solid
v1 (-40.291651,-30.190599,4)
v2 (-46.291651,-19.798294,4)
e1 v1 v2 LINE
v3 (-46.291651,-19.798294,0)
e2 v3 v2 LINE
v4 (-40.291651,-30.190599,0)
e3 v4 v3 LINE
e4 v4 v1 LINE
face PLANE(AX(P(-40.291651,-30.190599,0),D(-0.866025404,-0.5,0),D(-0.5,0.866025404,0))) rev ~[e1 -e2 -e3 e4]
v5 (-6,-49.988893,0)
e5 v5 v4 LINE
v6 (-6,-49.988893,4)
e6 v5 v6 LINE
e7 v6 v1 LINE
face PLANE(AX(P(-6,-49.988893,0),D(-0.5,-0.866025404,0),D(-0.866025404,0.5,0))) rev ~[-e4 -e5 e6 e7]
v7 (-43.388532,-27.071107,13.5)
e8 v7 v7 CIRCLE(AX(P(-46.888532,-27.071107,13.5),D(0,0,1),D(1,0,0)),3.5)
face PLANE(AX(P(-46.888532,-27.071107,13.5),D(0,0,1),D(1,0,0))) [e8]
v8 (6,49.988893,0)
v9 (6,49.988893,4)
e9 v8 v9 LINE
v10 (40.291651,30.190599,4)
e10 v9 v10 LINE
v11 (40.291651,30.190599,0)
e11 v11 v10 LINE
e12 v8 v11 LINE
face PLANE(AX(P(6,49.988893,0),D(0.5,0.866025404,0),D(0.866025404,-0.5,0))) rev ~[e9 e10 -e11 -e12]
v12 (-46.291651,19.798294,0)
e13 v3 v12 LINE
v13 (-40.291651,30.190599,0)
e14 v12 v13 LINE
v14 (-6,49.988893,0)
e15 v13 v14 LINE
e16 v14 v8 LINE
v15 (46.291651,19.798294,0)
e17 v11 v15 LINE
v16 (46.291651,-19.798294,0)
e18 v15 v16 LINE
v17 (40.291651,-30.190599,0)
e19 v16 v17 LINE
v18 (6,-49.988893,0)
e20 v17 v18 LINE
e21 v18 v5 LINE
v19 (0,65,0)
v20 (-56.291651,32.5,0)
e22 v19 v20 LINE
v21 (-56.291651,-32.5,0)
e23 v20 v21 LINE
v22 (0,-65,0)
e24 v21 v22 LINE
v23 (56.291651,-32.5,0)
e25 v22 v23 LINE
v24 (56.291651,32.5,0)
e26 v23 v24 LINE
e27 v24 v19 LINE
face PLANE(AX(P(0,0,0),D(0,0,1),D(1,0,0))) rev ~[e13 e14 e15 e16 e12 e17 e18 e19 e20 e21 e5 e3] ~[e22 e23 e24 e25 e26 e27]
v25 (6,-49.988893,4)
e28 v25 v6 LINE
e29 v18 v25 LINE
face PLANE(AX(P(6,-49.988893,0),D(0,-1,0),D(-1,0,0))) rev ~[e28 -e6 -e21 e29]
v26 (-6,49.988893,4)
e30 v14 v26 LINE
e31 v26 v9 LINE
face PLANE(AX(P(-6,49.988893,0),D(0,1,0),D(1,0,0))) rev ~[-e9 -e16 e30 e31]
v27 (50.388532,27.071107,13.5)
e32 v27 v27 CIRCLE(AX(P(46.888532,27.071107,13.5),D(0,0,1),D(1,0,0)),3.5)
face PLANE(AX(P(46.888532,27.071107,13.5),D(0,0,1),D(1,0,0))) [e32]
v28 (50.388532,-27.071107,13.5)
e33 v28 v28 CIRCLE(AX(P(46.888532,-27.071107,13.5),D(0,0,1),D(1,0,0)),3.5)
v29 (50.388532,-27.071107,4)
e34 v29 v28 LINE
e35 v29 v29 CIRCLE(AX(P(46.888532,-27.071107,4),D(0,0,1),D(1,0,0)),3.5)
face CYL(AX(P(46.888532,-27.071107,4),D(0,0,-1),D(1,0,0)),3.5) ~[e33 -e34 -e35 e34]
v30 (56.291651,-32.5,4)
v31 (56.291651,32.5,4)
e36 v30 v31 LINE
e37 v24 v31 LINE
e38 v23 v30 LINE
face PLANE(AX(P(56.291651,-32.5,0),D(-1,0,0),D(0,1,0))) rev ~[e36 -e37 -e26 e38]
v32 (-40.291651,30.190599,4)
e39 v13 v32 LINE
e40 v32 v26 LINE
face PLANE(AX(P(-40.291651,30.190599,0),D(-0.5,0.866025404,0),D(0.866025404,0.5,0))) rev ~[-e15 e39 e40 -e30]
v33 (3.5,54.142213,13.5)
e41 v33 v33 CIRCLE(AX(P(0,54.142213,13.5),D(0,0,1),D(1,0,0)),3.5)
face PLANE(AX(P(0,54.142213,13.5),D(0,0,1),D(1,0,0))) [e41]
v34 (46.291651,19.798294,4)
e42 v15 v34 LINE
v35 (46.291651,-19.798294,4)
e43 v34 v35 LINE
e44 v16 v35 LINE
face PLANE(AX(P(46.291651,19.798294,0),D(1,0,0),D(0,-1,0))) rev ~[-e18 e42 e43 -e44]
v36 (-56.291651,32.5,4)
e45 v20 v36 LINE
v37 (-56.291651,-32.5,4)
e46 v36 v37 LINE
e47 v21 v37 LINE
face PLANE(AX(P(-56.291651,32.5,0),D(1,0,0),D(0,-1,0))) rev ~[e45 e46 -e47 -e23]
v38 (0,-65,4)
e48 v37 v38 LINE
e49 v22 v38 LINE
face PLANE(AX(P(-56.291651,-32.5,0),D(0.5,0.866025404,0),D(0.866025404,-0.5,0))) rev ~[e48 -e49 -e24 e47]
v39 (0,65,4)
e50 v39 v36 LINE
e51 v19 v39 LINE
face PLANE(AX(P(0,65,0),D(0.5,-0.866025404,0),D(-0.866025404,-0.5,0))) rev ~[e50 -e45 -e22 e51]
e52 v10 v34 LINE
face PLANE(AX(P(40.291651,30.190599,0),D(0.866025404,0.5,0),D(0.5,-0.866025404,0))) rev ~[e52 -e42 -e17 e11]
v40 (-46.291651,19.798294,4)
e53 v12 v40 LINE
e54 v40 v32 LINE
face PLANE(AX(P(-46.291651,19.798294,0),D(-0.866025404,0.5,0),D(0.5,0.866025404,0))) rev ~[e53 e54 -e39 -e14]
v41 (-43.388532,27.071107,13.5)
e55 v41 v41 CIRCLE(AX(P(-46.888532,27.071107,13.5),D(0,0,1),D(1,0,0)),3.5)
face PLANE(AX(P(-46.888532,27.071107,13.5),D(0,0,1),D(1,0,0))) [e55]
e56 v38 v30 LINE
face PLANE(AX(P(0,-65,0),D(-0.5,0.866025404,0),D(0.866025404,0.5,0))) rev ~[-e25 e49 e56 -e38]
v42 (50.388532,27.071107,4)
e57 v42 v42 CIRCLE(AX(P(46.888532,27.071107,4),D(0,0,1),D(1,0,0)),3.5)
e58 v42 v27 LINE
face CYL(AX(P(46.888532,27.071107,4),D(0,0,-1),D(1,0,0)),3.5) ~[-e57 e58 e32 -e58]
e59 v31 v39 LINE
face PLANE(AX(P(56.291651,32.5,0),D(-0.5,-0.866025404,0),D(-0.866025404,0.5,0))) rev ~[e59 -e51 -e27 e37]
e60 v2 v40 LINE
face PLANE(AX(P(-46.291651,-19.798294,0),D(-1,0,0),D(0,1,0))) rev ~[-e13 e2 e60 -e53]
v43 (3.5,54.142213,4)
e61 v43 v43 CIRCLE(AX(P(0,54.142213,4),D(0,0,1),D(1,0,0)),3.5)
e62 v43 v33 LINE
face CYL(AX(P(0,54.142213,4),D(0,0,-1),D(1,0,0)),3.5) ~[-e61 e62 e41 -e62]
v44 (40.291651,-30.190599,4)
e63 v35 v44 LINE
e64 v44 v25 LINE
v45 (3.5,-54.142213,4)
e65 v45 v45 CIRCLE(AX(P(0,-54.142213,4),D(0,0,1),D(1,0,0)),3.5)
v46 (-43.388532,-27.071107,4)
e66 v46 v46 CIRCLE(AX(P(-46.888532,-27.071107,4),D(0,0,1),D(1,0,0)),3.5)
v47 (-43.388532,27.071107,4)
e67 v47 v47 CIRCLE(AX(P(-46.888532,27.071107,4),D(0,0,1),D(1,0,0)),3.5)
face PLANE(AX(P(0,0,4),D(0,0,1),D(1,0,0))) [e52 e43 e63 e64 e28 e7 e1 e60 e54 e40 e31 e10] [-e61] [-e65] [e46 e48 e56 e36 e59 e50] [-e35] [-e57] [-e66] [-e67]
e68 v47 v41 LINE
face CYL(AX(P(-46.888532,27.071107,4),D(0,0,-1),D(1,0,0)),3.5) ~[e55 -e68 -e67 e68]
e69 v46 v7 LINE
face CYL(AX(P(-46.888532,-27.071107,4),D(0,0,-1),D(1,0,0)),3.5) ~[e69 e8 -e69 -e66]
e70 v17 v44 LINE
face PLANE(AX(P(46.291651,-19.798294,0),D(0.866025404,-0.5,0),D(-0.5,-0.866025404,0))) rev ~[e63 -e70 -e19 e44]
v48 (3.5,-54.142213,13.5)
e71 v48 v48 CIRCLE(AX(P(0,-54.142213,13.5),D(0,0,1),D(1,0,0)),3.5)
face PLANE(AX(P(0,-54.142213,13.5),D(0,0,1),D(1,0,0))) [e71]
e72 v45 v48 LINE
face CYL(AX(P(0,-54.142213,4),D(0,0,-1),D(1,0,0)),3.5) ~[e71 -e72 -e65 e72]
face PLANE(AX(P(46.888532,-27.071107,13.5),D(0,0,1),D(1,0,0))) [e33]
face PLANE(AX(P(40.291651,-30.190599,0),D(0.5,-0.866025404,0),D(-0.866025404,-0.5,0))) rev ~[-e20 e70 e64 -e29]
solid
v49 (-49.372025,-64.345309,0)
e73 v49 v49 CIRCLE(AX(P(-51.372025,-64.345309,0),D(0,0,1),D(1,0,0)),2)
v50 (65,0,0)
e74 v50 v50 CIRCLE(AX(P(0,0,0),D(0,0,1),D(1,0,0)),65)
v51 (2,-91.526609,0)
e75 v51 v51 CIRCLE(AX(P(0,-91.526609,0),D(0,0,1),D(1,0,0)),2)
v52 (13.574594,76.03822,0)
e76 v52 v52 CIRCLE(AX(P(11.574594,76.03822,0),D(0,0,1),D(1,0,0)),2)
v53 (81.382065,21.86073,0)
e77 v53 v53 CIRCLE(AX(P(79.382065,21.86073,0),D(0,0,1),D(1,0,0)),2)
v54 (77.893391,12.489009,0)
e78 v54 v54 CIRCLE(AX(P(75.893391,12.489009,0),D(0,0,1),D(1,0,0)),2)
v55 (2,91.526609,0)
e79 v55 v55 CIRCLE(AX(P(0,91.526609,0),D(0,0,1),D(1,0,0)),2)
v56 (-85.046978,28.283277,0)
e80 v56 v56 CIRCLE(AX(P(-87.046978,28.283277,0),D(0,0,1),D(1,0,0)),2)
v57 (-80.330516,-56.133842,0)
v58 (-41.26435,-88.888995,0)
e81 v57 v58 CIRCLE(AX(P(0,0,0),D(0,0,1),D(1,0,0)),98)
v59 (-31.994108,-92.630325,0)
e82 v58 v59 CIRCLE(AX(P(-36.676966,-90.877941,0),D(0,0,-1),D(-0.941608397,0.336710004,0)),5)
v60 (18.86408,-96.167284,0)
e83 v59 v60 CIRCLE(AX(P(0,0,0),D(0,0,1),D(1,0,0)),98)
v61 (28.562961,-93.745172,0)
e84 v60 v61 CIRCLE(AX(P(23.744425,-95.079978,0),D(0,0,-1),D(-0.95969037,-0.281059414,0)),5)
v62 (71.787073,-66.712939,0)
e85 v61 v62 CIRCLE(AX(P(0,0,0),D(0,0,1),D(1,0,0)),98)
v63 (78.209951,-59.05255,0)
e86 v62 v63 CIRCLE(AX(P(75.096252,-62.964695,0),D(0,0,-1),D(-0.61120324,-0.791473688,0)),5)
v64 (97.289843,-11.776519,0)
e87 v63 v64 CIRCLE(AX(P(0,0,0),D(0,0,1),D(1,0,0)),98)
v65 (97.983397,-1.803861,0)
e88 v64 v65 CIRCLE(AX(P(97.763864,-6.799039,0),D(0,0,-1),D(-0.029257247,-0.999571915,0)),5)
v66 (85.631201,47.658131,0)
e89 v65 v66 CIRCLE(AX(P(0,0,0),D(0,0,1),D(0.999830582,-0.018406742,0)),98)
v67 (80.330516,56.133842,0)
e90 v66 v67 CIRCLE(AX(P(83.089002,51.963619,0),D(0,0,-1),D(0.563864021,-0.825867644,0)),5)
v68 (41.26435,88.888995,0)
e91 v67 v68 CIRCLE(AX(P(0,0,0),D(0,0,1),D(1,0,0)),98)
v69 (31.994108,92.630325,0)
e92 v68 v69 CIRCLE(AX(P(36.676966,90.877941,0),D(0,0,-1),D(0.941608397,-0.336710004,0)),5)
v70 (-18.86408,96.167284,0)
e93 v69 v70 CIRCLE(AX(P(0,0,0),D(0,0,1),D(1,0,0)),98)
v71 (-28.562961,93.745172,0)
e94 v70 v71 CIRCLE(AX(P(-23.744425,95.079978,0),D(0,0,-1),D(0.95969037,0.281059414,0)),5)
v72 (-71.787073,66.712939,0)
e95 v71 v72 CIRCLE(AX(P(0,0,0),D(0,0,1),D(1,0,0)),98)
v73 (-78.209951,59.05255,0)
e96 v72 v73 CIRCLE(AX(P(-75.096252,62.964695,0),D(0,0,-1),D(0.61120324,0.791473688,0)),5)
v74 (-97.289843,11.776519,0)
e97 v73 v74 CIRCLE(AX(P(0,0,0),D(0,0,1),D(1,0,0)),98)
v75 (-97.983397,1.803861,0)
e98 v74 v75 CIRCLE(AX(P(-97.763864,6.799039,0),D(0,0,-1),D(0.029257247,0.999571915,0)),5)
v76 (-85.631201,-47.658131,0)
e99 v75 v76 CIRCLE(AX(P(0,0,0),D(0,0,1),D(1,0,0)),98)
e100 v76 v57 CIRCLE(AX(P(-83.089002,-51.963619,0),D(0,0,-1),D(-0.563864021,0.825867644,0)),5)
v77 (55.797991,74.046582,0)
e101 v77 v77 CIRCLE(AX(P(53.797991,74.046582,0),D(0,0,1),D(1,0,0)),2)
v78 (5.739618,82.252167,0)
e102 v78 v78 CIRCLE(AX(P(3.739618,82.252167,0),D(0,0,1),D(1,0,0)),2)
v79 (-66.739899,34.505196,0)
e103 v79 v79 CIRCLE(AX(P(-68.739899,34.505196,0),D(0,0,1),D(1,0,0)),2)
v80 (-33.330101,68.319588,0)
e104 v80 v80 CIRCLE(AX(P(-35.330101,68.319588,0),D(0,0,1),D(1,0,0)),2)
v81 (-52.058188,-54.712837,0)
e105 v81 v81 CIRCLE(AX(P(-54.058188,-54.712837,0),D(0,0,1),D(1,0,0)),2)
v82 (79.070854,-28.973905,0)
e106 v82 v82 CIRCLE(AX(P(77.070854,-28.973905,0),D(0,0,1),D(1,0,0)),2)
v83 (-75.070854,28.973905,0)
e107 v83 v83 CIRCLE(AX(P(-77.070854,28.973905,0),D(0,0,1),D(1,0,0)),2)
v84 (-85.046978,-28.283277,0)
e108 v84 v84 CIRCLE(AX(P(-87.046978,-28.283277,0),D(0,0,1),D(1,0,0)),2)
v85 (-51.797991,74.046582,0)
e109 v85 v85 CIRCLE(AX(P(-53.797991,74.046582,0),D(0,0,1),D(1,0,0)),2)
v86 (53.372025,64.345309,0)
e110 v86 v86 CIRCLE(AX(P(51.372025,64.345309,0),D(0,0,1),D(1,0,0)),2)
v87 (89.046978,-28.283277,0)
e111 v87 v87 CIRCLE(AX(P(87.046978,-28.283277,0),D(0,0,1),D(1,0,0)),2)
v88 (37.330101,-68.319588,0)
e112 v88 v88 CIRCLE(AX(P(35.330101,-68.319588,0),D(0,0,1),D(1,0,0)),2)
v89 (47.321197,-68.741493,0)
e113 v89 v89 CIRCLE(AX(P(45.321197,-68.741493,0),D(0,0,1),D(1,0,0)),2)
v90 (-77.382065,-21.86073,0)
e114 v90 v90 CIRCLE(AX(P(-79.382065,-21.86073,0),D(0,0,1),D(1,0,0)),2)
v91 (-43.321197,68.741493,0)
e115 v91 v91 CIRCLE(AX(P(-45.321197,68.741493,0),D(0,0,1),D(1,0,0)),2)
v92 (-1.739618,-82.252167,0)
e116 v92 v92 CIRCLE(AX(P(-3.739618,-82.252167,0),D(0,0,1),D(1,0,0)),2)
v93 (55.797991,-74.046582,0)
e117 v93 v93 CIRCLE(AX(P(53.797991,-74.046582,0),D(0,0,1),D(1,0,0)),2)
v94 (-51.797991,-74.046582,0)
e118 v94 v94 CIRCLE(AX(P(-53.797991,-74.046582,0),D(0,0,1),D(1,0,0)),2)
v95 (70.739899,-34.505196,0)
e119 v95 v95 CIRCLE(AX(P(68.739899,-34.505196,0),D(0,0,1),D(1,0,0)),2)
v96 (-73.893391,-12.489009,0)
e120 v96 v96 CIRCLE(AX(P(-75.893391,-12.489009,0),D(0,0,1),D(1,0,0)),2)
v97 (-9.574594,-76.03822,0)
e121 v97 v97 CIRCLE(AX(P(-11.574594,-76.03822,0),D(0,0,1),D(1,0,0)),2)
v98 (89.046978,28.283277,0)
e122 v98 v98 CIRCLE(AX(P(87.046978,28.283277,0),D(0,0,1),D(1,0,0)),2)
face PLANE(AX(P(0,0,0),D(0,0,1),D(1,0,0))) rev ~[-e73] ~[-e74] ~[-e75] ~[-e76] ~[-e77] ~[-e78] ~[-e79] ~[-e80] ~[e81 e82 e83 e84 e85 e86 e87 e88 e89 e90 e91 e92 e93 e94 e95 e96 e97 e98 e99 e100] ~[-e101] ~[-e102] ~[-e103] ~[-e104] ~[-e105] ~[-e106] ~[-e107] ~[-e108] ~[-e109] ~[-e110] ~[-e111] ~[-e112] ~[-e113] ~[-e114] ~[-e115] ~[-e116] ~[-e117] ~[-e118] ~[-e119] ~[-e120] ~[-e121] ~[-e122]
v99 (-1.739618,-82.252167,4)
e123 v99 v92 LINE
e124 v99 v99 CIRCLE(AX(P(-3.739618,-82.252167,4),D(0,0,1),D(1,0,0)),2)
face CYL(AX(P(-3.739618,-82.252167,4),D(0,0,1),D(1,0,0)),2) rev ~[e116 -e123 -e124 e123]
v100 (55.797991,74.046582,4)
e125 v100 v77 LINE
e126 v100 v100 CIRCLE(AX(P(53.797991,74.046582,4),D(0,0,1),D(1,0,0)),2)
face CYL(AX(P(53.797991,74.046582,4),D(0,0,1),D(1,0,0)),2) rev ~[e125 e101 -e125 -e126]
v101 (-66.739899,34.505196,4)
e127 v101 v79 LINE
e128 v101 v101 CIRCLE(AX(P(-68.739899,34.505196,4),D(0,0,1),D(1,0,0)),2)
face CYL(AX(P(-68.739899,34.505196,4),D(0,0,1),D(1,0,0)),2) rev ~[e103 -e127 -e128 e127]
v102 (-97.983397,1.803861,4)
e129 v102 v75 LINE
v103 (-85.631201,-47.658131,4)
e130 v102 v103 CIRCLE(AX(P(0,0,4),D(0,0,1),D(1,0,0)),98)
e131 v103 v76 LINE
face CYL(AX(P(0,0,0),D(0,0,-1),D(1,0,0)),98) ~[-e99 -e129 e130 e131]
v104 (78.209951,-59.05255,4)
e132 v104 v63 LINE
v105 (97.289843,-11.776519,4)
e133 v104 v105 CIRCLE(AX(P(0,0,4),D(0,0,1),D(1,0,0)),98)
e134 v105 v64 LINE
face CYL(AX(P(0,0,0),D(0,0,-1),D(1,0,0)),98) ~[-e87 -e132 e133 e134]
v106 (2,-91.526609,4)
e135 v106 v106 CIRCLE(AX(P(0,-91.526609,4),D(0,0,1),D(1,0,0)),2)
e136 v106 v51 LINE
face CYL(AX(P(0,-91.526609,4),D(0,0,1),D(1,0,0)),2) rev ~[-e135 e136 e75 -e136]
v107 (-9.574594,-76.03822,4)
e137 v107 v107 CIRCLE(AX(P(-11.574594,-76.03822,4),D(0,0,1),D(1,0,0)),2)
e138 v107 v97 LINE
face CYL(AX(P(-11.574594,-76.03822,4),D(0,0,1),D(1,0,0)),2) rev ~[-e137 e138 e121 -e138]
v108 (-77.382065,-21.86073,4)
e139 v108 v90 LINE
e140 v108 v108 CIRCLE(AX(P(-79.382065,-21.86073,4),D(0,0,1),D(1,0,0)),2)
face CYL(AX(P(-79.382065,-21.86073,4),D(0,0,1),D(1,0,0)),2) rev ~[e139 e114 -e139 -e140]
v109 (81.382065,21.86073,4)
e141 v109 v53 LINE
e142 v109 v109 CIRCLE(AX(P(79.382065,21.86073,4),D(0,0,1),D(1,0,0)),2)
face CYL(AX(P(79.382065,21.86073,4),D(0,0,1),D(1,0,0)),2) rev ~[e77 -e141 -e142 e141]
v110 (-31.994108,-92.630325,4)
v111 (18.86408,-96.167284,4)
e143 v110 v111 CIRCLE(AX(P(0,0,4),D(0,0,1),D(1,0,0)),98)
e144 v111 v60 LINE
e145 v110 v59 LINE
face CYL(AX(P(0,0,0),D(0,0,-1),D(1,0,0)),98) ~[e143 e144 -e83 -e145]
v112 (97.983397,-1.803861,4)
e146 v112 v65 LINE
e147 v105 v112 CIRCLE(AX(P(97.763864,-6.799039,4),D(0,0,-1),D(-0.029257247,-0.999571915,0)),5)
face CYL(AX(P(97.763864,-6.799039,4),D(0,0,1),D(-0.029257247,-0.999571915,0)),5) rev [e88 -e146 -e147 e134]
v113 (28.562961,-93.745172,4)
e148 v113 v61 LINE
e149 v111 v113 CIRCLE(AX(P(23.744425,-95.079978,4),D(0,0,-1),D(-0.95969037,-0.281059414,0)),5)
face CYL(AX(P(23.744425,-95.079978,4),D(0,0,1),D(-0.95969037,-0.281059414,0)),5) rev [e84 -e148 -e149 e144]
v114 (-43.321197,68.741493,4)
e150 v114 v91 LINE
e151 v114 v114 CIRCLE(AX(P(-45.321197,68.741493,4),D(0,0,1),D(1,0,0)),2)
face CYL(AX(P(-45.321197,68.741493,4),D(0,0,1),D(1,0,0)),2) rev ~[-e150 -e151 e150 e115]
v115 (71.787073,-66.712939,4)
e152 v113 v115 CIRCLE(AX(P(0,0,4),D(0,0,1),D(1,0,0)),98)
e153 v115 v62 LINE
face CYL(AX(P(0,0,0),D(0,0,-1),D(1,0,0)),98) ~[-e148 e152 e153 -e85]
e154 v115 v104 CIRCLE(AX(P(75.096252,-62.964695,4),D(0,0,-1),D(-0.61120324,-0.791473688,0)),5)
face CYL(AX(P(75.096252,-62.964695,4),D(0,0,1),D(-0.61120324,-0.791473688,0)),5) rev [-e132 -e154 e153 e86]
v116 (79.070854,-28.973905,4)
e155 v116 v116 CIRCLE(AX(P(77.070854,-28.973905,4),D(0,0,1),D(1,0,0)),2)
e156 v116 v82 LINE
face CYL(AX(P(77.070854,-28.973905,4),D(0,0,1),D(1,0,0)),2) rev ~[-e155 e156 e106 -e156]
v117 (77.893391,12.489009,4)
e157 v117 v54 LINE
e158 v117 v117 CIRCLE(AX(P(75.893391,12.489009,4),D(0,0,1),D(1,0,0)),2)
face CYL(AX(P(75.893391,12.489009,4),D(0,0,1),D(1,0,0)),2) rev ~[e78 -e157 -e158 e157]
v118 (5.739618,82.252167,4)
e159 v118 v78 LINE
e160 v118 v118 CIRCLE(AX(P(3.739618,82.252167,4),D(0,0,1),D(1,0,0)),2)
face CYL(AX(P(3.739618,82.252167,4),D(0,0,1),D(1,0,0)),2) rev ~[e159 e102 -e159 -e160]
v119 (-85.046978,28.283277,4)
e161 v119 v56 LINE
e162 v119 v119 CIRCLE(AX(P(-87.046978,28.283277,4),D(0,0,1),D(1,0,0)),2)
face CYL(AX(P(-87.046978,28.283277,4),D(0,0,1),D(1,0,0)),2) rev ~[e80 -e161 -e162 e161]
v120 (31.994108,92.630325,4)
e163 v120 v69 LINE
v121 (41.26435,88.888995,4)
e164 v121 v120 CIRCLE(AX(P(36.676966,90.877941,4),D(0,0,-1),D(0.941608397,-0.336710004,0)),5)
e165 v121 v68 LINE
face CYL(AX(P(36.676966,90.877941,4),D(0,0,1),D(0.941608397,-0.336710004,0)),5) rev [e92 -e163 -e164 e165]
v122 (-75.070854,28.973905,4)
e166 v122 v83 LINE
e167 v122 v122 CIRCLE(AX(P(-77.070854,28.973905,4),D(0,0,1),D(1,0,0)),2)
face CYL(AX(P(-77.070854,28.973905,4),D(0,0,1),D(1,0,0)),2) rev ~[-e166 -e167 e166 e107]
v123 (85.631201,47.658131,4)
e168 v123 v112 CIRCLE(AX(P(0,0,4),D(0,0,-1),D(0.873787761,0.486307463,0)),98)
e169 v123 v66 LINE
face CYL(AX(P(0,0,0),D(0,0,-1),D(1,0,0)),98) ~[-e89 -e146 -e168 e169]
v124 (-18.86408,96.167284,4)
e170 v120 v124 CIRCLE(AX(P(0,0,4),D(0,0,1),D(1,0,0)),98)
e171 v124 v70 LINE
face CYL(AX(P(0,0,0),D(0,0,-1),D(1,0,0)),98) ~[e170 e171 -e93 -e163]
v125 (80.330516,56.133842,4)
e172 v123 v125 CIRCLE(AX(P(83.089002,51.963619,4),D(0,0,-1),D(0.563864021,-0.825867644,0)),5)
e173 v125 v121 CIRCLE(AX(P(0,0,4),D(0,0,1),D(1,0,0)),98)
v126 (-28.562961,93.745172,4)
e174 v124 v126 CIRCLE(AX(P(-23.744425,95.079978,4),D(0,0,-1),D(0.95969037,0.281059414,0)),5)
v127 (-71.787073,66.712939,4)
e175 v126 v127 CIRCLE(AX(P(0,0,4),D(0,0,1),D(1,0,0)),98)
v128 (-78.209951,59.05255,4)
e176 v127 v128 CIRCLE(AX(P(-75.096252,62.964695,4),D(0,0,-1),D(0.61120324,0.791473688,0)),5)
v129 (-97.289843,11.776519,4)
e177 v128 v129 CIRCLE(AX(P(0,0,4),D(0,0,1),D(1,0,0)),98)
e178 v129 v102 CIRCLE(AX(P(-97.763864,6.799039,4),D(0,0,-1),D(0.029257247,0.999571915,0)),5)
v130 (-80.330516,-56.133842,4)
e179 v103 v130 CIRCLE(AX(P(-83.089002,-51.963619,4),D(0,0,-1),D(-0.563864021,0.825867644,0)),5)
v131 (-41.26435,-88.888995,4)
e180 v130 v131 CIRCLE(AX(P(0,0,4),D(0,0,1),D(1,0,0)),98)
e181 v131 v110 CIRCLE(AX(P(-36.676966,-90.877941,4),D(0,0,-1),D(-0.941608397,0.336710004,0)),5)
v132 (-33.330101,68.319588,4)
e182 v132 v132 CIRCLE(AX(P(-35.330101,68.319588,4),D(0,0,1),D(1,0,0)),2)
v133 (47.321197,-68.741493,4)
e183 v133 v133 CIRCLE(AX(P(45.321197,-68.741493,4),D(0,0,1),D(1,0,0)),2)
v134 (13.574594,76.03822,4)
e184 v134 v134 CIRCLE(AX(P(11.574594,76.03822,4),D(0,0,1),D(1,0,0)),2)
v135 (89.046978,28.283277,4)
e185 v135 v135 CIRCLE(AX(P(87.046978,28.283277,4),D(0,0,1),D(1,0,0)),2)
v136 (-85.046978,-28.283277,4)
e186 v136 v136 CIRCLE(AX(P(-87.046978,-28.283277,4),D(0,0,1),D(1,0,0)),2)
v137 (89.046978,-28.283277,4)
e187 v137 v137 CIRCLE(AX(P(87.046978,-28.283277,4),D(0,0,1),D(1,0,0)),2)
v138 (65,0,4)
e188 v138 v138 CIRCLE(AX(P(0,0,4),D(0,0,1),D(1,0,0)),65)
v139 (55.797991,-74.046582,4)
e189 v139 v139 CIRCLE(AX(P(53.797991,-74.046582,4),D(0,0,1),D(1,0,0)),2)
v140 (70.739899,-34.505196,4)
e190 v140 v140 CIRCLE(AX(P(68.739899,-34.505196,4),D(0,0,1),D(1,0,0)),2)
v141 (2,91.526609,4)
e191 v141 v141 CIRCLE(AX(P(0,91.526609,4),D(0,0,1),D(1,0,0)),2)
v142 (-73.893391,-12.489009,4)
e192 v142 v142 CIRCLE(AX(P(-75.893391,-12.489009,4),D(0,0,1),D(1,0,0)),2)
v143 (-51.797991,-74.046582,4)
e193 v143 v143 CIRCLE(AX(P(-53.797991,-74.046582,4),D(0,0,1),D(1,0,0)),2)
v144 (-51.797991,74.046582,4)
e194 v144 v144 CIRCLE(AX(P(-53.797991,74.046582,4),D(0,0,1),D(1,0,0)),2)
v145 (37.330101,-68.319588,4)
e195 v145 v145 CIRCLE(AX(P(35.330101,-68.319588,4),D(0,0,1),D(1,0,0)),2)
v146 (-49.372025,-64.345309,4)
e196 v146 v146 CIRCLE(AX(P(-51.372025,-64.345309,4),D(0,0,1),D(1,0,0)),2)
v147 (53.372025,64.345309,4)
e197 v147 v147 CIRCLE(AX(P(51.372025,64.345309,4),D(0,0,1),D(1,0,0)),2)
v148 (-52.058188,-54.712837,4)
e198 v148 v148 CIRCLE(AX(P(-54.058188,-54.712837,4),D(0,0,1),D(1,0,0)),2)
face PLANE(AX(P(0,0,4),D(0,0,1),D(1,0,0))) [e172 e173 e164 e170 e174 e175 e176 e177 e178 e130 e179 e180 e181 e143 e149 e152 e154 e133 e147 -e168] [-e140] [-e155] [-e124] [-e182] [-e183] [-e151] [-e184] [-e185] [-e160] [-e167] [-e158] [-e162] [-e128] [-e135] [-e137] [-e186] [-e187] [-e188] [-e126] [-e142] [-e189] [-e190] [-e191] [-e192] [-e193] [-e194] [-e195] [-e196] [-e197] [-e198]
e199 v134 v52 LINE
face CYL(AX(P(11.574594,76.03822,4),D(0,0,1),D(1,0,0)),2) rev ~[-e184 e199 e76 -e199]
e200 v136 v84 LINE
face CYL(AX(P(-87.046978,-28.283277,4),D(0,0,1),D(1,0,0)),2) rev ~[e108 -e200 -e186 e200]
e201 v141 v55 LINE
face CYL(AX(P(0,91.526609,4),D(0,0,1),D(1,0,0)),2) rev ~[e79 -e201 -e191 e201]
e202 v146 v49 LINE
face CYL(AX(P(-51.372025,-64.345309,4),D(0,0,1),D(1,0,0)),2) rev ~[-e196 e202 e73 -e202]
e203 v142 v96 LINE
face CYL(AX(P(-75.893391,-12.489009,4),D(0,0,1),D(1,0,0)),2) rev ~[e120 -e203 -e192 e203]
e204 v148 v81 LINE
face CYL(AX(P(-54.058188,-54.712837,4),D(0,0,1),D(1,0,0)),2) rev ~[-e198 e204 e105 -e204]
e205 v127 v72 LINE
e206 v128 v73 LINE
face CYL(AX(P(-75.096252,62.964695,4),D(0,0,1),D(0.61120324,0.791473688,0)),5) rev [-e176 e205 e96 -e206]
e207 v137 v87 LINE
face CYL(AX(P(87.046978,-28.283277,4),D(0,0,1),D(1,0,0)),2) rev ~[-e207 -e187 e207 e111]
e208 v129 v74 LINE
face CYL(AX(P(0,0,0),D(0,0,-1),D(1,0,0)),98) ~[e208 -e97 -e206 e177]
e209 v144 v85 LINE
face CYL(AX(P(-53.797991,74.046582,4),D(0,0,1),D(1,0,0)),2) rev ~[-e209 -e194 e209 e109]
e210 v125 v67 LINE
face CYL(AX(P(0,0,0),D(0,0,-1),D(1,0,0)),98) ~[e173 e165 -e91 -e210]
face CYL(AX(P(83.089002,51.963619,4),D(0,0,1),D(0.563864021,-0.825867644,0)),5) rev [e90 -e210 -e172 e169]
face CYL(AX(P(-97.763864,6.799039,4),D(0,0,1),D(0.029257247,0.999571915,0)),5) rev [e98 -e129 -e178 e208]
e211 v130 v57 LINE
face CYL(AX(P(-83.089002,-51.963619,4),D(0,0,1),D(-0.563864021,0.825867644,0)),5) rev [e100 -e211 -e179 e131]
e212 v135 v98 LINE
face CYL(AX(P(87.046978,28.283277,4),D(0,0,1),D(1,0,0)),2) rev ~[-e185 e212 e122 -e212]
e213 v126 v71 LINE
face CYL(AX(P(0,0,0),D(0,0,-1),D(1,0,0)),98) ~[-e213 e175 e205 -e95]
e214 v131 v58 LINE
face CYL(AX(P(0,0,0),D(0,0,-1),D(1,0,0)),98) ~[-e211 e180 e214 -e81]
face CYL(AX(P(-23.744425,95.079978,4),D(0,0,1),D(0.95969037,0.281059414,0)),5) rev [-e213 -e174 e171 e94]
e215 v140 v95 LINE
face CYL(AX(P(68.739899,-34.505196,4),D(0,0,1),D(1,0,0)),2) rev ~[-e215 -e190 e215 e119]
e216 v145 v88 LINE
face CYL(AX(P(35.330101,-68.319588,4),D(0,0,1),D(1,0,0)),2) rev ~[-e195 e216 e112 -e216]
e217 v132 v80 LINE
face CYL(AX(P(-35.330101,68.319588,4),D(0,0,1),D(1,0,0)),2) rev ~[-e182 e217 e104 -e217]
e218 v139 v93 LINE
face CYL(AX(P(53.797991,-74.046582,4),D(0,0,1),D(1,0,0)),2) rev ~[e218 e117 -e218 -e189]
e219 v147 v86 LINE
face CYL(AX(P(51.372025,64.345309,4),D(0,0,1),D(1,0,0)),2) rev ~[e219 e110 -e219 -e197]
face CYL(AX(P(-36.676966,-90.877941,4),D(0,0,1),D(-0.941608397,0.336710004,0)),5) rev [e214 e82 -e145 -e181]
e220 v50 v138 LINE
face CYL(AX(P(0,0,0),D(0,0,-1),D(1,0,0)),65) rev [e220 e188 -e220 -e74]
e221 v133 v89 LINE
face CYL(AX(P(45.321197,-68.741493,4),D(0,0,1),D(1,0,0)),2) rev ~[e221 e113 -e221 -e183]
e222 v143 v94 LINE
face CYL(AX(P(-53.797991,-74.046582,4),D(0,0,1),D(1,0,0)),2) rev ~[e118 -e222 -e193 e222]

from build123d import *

# Parameters (mm, degrees)
SKETCH1_R           = 98
SKETCH1_R_2         = 65
BOSS_EXTRUDE1_DEPTH = 4
SKETCH2_R           = 2
CUT_EXTRUDE1_DEPTH  = 14
CUT_EXTRUDE2_DEPTH  = 4
BOSS_EXTRUDE3_DEPTH = 4
SKETCH7_R           = 3.5
BOSS_EXTRUDE4_DEPTH = 9.5


with BuildPart() as part:
    # Sketch1 → Boss-Extrude1 (new body)
    with BuildSketch(Plane.XY):
        Circle(SKETCH1_R)
        Circle(SKETCH1_R_2, mode=Mode.SUBTRACT)
    extrude(amount=BOSS_EXTRUDE1_DEPTH)

    # Sketch2 → Cut-Extrude1 (cut)
    with BuildSketch(Plane.XY.offset(4)):
        with Locations((0, 91.526608606)):
            Circle(SKETCH2_R)
        with Locations((11.574594434, 76.038220279)):
            Circle(SKETCH2_R)
        with Locations((3.739617643, 82.252167389)):
            Circle(SKETCH2_R)
        with Locations((53.797990731, 74.0465818)):
            Circle(SKETCH2_R)
        with Locations((51.372025186, 64.345309143)):
            Circle(SKETCH2_R)
        with Locations((87.046977529, 28.283277497)):
            Circle(SKETCH2_R)
        with Locations((79.382065179, 21.86072982)):
            Circle(SKETCH2_R)
        with Locations((75.893391267, 12.489008829)):
            Circle(SKETCH2_R)
        with Locations((87.046977529, -28.283277497)):
            Circle(SKETCH2_R)
        with Locations((77.070854371, -28.973905275)):
            Circle(SKETCH2_R)
        with Locations((68.739898501, -34.505195748)):
            Circle(SKETCH2_R)
        with Locations((53.797990731, -74.0465818)):
            Circle(SKETCH2_R)
        with Locations((45.321196735, -68.741493342)):
            Circle(SKETCH2_R)
        with Locations((35.330100891, -68.319588337)):
            Circle(SKETCH2_R)
        with Locations((0, -91.526608606)):
            Circle(SKETCH2_R)
        with Locations((-3.739617643, -82.252167389)):
            Circle(SKETCH2_R)
        with Locations((-11.574594434, -76.038220279)):
            Circle(SKETCH2_R)
        with Locations((-53.797990731, -74.0465818)):
            Circle(SKETCH2_R)
        with Locations((-51.372025186, -64.345309143)):
            Circle(SKETCH2_R)
        with Locations((-54.058188091, -54.712836519)):
            Circle(SKETCH2_R)
        with Locations((-87.046977529, -28.283277497)):
            Circle(SKETCH2_R)
        with Locations((-79.382065179, -21.86072982)):
            Circle(SKETCH2_R)
        with Locations((-75.893391267, -12.489008829)):
            Circle(SKETCH2_R)
        with Locations((-87.046977529, 28.283277497)):
            Circle(SKETCH2_R)
        with Locations((-77.070854371, 28.973905275)):
            Circle(SKETCH2_R)
        with Locations((-68.739898501, 34.505195748)):
            Circle(SKETCH2_R)
        with Locations((-53.797990731, 74.0465818)):
            Circle(SKETCH2_R)
        with Locations((-45.321196735, 68.741493342)):
            Circle(SKETCH2_R)
        with Locations((-35.330100891, 68.319588337)):
            Circle(SKETCH2_R)
    extrude(amount=-CUT_EXTRUDE1_DEPTH, mode=Mode.SUBTRACT)

    # Sketch3 → Cut-Extrude2 (cut)
    with BuildSketch(Plane.XY.offset(4)):
        with BuildLine():
            Line((32.148814638, 92.998282907), (41.385007572, 89.194391172))
            ThreePointArc((41.385007572, 89.194391172), (34.772894087, 86.254683496), (32.148814638, 92.998282907))
        make_face()
        with BuildLine():
            Line((80.671956573, 56.340592196), (85.908322156, 47.834281145))
            ThreePointArc((85.908322156, 47.834281145), (78.83109316, 49.342510469), (80.671956573, 56.340592196))
        make_face()
        with BuildLine():
            Line((98.381153035, -1.837289787), (97.617577593, -11.796898453))
            ThreePointArc((97.617577593, -11.796898453), (92.778494017, -6.416824467), (98.381153035, -1.837289787))
        make_face()
        with BuildLine():
            Line((78.51209289, -59.313389519), (72.040236289, -66.922063803))
            ThreePointArc((72.040236289, -66.922063803), (71.287663584, -59.725150556), (78.51209289, -59.313389519))
        make_face()
        with BuildLine():
            Line((28.65408179, -94.133790442), (18.94597328, -96.485275378))
            ThreePointArc((18.94597328, -96.485275378), (22.567368641, -90.220499117), (28.65408179, -94.133790442))
        make_face()
        with BuildLine():
            Line((-32.148814638, -92.998282907), (-41.385007572, -89.194391172))
            ThreePointArc((-41.385007572, -89.194391172), (-34.772894087, -86.254683496), (-32.148814638, -92.998282907))
        make_face()
        with BuildLine():
            Line((-80.671956573, -56.340592196), (-85.908322156, -47.834281145))
            ThreePointArc((-85.908322156, -47.834281145), (-78.83109316, -49.342510469), (-80.671956573, -56.340592196))
        make_face()
        with BuildLine():
            Line((-98.381153035, 1.837289787), (-97.617577593, 11.796898453))
            ThreePointArc((-97.617577593, 11.796898453), (-92.778494017, 6.416824467), (-98.381153035, 1.837289787))
        make_face()
        with BuildLine():
            Line((-78.51209289, 59.313389519), (-72.040236289, 66.922063803))
            ThreePointArc((-72.040236289, 66.922063803), (-71.287663584, 59.725150556), (-78.51209289, 59.313389519))
        make_face()
        with BuildLine():
            Line((-28.65408179, 94.133790442), (-18.94597328, 96.485275378))
            ThreePointArc((-18.94597328, 96.485275378), (-22.567368641, 90.220499117), (-28.65408179, 94.133790442))
        make_face()
    extrude(amount=-CUT_EXTRUDE2_DEPTH, mode=Mode.SUBTRACT)


with BuildPart() as body_2:
    # Sketch6 → Boss-Extrude3 (new body)
    with BuildSketch(Plane.XY):
        Polygon((56.291651246, -32.5), (56.291651246, 32.5), (0, 65), (-56.291651246, 32.5), (-56.291651246, -32.5), (0, -65), align=None)
        Polygon((40.291651246, 30.190598923), (46.291651246, 19.798294078), (46.291651246, -19.798294078), (40.291651246, -30.190598923), (6, -49.988893001), (-6, -49.988893001), (-40.291651246, -30.190598923), (-46.291651246, -19.798294078), (-46.291651246, 19.798294078), (-40.291651246, 30.190598923), (-6, 49.988893001), (6, 49.988893001), align=None, mode=Mode.SUBTRACT)
    extrude(amount=BOSS_EXTRUDE3_DEPTH)

    # Sketch7 → Boss-Extrude4 (add)
    with BuildSketch(Plane.XY.offset(4)):
        with Locations((-46.888532128, 27.071106646)):
            Circle(SKETCH7_R)
        with Locations((0, 54.142213292)):
            Circle(SKETCH7_R)
        with Locations((46.888532128, 27.071106646)):
            Circle(SKETCH7_R)
        with Locations((46.888532128, -27.071106646)):
            Circle(SKETCH7_R)
        with Locations((0, -54.142213292)):
            Circle(SKETCH7_R)
        with Locations((-46.888532128, -27.071106646)):
            Circle(SKETCH7_R)
    extrude(amount=BOSS_EXTRUDE4_DEPTH)


solid = Compound([part.part, body_2.part])
